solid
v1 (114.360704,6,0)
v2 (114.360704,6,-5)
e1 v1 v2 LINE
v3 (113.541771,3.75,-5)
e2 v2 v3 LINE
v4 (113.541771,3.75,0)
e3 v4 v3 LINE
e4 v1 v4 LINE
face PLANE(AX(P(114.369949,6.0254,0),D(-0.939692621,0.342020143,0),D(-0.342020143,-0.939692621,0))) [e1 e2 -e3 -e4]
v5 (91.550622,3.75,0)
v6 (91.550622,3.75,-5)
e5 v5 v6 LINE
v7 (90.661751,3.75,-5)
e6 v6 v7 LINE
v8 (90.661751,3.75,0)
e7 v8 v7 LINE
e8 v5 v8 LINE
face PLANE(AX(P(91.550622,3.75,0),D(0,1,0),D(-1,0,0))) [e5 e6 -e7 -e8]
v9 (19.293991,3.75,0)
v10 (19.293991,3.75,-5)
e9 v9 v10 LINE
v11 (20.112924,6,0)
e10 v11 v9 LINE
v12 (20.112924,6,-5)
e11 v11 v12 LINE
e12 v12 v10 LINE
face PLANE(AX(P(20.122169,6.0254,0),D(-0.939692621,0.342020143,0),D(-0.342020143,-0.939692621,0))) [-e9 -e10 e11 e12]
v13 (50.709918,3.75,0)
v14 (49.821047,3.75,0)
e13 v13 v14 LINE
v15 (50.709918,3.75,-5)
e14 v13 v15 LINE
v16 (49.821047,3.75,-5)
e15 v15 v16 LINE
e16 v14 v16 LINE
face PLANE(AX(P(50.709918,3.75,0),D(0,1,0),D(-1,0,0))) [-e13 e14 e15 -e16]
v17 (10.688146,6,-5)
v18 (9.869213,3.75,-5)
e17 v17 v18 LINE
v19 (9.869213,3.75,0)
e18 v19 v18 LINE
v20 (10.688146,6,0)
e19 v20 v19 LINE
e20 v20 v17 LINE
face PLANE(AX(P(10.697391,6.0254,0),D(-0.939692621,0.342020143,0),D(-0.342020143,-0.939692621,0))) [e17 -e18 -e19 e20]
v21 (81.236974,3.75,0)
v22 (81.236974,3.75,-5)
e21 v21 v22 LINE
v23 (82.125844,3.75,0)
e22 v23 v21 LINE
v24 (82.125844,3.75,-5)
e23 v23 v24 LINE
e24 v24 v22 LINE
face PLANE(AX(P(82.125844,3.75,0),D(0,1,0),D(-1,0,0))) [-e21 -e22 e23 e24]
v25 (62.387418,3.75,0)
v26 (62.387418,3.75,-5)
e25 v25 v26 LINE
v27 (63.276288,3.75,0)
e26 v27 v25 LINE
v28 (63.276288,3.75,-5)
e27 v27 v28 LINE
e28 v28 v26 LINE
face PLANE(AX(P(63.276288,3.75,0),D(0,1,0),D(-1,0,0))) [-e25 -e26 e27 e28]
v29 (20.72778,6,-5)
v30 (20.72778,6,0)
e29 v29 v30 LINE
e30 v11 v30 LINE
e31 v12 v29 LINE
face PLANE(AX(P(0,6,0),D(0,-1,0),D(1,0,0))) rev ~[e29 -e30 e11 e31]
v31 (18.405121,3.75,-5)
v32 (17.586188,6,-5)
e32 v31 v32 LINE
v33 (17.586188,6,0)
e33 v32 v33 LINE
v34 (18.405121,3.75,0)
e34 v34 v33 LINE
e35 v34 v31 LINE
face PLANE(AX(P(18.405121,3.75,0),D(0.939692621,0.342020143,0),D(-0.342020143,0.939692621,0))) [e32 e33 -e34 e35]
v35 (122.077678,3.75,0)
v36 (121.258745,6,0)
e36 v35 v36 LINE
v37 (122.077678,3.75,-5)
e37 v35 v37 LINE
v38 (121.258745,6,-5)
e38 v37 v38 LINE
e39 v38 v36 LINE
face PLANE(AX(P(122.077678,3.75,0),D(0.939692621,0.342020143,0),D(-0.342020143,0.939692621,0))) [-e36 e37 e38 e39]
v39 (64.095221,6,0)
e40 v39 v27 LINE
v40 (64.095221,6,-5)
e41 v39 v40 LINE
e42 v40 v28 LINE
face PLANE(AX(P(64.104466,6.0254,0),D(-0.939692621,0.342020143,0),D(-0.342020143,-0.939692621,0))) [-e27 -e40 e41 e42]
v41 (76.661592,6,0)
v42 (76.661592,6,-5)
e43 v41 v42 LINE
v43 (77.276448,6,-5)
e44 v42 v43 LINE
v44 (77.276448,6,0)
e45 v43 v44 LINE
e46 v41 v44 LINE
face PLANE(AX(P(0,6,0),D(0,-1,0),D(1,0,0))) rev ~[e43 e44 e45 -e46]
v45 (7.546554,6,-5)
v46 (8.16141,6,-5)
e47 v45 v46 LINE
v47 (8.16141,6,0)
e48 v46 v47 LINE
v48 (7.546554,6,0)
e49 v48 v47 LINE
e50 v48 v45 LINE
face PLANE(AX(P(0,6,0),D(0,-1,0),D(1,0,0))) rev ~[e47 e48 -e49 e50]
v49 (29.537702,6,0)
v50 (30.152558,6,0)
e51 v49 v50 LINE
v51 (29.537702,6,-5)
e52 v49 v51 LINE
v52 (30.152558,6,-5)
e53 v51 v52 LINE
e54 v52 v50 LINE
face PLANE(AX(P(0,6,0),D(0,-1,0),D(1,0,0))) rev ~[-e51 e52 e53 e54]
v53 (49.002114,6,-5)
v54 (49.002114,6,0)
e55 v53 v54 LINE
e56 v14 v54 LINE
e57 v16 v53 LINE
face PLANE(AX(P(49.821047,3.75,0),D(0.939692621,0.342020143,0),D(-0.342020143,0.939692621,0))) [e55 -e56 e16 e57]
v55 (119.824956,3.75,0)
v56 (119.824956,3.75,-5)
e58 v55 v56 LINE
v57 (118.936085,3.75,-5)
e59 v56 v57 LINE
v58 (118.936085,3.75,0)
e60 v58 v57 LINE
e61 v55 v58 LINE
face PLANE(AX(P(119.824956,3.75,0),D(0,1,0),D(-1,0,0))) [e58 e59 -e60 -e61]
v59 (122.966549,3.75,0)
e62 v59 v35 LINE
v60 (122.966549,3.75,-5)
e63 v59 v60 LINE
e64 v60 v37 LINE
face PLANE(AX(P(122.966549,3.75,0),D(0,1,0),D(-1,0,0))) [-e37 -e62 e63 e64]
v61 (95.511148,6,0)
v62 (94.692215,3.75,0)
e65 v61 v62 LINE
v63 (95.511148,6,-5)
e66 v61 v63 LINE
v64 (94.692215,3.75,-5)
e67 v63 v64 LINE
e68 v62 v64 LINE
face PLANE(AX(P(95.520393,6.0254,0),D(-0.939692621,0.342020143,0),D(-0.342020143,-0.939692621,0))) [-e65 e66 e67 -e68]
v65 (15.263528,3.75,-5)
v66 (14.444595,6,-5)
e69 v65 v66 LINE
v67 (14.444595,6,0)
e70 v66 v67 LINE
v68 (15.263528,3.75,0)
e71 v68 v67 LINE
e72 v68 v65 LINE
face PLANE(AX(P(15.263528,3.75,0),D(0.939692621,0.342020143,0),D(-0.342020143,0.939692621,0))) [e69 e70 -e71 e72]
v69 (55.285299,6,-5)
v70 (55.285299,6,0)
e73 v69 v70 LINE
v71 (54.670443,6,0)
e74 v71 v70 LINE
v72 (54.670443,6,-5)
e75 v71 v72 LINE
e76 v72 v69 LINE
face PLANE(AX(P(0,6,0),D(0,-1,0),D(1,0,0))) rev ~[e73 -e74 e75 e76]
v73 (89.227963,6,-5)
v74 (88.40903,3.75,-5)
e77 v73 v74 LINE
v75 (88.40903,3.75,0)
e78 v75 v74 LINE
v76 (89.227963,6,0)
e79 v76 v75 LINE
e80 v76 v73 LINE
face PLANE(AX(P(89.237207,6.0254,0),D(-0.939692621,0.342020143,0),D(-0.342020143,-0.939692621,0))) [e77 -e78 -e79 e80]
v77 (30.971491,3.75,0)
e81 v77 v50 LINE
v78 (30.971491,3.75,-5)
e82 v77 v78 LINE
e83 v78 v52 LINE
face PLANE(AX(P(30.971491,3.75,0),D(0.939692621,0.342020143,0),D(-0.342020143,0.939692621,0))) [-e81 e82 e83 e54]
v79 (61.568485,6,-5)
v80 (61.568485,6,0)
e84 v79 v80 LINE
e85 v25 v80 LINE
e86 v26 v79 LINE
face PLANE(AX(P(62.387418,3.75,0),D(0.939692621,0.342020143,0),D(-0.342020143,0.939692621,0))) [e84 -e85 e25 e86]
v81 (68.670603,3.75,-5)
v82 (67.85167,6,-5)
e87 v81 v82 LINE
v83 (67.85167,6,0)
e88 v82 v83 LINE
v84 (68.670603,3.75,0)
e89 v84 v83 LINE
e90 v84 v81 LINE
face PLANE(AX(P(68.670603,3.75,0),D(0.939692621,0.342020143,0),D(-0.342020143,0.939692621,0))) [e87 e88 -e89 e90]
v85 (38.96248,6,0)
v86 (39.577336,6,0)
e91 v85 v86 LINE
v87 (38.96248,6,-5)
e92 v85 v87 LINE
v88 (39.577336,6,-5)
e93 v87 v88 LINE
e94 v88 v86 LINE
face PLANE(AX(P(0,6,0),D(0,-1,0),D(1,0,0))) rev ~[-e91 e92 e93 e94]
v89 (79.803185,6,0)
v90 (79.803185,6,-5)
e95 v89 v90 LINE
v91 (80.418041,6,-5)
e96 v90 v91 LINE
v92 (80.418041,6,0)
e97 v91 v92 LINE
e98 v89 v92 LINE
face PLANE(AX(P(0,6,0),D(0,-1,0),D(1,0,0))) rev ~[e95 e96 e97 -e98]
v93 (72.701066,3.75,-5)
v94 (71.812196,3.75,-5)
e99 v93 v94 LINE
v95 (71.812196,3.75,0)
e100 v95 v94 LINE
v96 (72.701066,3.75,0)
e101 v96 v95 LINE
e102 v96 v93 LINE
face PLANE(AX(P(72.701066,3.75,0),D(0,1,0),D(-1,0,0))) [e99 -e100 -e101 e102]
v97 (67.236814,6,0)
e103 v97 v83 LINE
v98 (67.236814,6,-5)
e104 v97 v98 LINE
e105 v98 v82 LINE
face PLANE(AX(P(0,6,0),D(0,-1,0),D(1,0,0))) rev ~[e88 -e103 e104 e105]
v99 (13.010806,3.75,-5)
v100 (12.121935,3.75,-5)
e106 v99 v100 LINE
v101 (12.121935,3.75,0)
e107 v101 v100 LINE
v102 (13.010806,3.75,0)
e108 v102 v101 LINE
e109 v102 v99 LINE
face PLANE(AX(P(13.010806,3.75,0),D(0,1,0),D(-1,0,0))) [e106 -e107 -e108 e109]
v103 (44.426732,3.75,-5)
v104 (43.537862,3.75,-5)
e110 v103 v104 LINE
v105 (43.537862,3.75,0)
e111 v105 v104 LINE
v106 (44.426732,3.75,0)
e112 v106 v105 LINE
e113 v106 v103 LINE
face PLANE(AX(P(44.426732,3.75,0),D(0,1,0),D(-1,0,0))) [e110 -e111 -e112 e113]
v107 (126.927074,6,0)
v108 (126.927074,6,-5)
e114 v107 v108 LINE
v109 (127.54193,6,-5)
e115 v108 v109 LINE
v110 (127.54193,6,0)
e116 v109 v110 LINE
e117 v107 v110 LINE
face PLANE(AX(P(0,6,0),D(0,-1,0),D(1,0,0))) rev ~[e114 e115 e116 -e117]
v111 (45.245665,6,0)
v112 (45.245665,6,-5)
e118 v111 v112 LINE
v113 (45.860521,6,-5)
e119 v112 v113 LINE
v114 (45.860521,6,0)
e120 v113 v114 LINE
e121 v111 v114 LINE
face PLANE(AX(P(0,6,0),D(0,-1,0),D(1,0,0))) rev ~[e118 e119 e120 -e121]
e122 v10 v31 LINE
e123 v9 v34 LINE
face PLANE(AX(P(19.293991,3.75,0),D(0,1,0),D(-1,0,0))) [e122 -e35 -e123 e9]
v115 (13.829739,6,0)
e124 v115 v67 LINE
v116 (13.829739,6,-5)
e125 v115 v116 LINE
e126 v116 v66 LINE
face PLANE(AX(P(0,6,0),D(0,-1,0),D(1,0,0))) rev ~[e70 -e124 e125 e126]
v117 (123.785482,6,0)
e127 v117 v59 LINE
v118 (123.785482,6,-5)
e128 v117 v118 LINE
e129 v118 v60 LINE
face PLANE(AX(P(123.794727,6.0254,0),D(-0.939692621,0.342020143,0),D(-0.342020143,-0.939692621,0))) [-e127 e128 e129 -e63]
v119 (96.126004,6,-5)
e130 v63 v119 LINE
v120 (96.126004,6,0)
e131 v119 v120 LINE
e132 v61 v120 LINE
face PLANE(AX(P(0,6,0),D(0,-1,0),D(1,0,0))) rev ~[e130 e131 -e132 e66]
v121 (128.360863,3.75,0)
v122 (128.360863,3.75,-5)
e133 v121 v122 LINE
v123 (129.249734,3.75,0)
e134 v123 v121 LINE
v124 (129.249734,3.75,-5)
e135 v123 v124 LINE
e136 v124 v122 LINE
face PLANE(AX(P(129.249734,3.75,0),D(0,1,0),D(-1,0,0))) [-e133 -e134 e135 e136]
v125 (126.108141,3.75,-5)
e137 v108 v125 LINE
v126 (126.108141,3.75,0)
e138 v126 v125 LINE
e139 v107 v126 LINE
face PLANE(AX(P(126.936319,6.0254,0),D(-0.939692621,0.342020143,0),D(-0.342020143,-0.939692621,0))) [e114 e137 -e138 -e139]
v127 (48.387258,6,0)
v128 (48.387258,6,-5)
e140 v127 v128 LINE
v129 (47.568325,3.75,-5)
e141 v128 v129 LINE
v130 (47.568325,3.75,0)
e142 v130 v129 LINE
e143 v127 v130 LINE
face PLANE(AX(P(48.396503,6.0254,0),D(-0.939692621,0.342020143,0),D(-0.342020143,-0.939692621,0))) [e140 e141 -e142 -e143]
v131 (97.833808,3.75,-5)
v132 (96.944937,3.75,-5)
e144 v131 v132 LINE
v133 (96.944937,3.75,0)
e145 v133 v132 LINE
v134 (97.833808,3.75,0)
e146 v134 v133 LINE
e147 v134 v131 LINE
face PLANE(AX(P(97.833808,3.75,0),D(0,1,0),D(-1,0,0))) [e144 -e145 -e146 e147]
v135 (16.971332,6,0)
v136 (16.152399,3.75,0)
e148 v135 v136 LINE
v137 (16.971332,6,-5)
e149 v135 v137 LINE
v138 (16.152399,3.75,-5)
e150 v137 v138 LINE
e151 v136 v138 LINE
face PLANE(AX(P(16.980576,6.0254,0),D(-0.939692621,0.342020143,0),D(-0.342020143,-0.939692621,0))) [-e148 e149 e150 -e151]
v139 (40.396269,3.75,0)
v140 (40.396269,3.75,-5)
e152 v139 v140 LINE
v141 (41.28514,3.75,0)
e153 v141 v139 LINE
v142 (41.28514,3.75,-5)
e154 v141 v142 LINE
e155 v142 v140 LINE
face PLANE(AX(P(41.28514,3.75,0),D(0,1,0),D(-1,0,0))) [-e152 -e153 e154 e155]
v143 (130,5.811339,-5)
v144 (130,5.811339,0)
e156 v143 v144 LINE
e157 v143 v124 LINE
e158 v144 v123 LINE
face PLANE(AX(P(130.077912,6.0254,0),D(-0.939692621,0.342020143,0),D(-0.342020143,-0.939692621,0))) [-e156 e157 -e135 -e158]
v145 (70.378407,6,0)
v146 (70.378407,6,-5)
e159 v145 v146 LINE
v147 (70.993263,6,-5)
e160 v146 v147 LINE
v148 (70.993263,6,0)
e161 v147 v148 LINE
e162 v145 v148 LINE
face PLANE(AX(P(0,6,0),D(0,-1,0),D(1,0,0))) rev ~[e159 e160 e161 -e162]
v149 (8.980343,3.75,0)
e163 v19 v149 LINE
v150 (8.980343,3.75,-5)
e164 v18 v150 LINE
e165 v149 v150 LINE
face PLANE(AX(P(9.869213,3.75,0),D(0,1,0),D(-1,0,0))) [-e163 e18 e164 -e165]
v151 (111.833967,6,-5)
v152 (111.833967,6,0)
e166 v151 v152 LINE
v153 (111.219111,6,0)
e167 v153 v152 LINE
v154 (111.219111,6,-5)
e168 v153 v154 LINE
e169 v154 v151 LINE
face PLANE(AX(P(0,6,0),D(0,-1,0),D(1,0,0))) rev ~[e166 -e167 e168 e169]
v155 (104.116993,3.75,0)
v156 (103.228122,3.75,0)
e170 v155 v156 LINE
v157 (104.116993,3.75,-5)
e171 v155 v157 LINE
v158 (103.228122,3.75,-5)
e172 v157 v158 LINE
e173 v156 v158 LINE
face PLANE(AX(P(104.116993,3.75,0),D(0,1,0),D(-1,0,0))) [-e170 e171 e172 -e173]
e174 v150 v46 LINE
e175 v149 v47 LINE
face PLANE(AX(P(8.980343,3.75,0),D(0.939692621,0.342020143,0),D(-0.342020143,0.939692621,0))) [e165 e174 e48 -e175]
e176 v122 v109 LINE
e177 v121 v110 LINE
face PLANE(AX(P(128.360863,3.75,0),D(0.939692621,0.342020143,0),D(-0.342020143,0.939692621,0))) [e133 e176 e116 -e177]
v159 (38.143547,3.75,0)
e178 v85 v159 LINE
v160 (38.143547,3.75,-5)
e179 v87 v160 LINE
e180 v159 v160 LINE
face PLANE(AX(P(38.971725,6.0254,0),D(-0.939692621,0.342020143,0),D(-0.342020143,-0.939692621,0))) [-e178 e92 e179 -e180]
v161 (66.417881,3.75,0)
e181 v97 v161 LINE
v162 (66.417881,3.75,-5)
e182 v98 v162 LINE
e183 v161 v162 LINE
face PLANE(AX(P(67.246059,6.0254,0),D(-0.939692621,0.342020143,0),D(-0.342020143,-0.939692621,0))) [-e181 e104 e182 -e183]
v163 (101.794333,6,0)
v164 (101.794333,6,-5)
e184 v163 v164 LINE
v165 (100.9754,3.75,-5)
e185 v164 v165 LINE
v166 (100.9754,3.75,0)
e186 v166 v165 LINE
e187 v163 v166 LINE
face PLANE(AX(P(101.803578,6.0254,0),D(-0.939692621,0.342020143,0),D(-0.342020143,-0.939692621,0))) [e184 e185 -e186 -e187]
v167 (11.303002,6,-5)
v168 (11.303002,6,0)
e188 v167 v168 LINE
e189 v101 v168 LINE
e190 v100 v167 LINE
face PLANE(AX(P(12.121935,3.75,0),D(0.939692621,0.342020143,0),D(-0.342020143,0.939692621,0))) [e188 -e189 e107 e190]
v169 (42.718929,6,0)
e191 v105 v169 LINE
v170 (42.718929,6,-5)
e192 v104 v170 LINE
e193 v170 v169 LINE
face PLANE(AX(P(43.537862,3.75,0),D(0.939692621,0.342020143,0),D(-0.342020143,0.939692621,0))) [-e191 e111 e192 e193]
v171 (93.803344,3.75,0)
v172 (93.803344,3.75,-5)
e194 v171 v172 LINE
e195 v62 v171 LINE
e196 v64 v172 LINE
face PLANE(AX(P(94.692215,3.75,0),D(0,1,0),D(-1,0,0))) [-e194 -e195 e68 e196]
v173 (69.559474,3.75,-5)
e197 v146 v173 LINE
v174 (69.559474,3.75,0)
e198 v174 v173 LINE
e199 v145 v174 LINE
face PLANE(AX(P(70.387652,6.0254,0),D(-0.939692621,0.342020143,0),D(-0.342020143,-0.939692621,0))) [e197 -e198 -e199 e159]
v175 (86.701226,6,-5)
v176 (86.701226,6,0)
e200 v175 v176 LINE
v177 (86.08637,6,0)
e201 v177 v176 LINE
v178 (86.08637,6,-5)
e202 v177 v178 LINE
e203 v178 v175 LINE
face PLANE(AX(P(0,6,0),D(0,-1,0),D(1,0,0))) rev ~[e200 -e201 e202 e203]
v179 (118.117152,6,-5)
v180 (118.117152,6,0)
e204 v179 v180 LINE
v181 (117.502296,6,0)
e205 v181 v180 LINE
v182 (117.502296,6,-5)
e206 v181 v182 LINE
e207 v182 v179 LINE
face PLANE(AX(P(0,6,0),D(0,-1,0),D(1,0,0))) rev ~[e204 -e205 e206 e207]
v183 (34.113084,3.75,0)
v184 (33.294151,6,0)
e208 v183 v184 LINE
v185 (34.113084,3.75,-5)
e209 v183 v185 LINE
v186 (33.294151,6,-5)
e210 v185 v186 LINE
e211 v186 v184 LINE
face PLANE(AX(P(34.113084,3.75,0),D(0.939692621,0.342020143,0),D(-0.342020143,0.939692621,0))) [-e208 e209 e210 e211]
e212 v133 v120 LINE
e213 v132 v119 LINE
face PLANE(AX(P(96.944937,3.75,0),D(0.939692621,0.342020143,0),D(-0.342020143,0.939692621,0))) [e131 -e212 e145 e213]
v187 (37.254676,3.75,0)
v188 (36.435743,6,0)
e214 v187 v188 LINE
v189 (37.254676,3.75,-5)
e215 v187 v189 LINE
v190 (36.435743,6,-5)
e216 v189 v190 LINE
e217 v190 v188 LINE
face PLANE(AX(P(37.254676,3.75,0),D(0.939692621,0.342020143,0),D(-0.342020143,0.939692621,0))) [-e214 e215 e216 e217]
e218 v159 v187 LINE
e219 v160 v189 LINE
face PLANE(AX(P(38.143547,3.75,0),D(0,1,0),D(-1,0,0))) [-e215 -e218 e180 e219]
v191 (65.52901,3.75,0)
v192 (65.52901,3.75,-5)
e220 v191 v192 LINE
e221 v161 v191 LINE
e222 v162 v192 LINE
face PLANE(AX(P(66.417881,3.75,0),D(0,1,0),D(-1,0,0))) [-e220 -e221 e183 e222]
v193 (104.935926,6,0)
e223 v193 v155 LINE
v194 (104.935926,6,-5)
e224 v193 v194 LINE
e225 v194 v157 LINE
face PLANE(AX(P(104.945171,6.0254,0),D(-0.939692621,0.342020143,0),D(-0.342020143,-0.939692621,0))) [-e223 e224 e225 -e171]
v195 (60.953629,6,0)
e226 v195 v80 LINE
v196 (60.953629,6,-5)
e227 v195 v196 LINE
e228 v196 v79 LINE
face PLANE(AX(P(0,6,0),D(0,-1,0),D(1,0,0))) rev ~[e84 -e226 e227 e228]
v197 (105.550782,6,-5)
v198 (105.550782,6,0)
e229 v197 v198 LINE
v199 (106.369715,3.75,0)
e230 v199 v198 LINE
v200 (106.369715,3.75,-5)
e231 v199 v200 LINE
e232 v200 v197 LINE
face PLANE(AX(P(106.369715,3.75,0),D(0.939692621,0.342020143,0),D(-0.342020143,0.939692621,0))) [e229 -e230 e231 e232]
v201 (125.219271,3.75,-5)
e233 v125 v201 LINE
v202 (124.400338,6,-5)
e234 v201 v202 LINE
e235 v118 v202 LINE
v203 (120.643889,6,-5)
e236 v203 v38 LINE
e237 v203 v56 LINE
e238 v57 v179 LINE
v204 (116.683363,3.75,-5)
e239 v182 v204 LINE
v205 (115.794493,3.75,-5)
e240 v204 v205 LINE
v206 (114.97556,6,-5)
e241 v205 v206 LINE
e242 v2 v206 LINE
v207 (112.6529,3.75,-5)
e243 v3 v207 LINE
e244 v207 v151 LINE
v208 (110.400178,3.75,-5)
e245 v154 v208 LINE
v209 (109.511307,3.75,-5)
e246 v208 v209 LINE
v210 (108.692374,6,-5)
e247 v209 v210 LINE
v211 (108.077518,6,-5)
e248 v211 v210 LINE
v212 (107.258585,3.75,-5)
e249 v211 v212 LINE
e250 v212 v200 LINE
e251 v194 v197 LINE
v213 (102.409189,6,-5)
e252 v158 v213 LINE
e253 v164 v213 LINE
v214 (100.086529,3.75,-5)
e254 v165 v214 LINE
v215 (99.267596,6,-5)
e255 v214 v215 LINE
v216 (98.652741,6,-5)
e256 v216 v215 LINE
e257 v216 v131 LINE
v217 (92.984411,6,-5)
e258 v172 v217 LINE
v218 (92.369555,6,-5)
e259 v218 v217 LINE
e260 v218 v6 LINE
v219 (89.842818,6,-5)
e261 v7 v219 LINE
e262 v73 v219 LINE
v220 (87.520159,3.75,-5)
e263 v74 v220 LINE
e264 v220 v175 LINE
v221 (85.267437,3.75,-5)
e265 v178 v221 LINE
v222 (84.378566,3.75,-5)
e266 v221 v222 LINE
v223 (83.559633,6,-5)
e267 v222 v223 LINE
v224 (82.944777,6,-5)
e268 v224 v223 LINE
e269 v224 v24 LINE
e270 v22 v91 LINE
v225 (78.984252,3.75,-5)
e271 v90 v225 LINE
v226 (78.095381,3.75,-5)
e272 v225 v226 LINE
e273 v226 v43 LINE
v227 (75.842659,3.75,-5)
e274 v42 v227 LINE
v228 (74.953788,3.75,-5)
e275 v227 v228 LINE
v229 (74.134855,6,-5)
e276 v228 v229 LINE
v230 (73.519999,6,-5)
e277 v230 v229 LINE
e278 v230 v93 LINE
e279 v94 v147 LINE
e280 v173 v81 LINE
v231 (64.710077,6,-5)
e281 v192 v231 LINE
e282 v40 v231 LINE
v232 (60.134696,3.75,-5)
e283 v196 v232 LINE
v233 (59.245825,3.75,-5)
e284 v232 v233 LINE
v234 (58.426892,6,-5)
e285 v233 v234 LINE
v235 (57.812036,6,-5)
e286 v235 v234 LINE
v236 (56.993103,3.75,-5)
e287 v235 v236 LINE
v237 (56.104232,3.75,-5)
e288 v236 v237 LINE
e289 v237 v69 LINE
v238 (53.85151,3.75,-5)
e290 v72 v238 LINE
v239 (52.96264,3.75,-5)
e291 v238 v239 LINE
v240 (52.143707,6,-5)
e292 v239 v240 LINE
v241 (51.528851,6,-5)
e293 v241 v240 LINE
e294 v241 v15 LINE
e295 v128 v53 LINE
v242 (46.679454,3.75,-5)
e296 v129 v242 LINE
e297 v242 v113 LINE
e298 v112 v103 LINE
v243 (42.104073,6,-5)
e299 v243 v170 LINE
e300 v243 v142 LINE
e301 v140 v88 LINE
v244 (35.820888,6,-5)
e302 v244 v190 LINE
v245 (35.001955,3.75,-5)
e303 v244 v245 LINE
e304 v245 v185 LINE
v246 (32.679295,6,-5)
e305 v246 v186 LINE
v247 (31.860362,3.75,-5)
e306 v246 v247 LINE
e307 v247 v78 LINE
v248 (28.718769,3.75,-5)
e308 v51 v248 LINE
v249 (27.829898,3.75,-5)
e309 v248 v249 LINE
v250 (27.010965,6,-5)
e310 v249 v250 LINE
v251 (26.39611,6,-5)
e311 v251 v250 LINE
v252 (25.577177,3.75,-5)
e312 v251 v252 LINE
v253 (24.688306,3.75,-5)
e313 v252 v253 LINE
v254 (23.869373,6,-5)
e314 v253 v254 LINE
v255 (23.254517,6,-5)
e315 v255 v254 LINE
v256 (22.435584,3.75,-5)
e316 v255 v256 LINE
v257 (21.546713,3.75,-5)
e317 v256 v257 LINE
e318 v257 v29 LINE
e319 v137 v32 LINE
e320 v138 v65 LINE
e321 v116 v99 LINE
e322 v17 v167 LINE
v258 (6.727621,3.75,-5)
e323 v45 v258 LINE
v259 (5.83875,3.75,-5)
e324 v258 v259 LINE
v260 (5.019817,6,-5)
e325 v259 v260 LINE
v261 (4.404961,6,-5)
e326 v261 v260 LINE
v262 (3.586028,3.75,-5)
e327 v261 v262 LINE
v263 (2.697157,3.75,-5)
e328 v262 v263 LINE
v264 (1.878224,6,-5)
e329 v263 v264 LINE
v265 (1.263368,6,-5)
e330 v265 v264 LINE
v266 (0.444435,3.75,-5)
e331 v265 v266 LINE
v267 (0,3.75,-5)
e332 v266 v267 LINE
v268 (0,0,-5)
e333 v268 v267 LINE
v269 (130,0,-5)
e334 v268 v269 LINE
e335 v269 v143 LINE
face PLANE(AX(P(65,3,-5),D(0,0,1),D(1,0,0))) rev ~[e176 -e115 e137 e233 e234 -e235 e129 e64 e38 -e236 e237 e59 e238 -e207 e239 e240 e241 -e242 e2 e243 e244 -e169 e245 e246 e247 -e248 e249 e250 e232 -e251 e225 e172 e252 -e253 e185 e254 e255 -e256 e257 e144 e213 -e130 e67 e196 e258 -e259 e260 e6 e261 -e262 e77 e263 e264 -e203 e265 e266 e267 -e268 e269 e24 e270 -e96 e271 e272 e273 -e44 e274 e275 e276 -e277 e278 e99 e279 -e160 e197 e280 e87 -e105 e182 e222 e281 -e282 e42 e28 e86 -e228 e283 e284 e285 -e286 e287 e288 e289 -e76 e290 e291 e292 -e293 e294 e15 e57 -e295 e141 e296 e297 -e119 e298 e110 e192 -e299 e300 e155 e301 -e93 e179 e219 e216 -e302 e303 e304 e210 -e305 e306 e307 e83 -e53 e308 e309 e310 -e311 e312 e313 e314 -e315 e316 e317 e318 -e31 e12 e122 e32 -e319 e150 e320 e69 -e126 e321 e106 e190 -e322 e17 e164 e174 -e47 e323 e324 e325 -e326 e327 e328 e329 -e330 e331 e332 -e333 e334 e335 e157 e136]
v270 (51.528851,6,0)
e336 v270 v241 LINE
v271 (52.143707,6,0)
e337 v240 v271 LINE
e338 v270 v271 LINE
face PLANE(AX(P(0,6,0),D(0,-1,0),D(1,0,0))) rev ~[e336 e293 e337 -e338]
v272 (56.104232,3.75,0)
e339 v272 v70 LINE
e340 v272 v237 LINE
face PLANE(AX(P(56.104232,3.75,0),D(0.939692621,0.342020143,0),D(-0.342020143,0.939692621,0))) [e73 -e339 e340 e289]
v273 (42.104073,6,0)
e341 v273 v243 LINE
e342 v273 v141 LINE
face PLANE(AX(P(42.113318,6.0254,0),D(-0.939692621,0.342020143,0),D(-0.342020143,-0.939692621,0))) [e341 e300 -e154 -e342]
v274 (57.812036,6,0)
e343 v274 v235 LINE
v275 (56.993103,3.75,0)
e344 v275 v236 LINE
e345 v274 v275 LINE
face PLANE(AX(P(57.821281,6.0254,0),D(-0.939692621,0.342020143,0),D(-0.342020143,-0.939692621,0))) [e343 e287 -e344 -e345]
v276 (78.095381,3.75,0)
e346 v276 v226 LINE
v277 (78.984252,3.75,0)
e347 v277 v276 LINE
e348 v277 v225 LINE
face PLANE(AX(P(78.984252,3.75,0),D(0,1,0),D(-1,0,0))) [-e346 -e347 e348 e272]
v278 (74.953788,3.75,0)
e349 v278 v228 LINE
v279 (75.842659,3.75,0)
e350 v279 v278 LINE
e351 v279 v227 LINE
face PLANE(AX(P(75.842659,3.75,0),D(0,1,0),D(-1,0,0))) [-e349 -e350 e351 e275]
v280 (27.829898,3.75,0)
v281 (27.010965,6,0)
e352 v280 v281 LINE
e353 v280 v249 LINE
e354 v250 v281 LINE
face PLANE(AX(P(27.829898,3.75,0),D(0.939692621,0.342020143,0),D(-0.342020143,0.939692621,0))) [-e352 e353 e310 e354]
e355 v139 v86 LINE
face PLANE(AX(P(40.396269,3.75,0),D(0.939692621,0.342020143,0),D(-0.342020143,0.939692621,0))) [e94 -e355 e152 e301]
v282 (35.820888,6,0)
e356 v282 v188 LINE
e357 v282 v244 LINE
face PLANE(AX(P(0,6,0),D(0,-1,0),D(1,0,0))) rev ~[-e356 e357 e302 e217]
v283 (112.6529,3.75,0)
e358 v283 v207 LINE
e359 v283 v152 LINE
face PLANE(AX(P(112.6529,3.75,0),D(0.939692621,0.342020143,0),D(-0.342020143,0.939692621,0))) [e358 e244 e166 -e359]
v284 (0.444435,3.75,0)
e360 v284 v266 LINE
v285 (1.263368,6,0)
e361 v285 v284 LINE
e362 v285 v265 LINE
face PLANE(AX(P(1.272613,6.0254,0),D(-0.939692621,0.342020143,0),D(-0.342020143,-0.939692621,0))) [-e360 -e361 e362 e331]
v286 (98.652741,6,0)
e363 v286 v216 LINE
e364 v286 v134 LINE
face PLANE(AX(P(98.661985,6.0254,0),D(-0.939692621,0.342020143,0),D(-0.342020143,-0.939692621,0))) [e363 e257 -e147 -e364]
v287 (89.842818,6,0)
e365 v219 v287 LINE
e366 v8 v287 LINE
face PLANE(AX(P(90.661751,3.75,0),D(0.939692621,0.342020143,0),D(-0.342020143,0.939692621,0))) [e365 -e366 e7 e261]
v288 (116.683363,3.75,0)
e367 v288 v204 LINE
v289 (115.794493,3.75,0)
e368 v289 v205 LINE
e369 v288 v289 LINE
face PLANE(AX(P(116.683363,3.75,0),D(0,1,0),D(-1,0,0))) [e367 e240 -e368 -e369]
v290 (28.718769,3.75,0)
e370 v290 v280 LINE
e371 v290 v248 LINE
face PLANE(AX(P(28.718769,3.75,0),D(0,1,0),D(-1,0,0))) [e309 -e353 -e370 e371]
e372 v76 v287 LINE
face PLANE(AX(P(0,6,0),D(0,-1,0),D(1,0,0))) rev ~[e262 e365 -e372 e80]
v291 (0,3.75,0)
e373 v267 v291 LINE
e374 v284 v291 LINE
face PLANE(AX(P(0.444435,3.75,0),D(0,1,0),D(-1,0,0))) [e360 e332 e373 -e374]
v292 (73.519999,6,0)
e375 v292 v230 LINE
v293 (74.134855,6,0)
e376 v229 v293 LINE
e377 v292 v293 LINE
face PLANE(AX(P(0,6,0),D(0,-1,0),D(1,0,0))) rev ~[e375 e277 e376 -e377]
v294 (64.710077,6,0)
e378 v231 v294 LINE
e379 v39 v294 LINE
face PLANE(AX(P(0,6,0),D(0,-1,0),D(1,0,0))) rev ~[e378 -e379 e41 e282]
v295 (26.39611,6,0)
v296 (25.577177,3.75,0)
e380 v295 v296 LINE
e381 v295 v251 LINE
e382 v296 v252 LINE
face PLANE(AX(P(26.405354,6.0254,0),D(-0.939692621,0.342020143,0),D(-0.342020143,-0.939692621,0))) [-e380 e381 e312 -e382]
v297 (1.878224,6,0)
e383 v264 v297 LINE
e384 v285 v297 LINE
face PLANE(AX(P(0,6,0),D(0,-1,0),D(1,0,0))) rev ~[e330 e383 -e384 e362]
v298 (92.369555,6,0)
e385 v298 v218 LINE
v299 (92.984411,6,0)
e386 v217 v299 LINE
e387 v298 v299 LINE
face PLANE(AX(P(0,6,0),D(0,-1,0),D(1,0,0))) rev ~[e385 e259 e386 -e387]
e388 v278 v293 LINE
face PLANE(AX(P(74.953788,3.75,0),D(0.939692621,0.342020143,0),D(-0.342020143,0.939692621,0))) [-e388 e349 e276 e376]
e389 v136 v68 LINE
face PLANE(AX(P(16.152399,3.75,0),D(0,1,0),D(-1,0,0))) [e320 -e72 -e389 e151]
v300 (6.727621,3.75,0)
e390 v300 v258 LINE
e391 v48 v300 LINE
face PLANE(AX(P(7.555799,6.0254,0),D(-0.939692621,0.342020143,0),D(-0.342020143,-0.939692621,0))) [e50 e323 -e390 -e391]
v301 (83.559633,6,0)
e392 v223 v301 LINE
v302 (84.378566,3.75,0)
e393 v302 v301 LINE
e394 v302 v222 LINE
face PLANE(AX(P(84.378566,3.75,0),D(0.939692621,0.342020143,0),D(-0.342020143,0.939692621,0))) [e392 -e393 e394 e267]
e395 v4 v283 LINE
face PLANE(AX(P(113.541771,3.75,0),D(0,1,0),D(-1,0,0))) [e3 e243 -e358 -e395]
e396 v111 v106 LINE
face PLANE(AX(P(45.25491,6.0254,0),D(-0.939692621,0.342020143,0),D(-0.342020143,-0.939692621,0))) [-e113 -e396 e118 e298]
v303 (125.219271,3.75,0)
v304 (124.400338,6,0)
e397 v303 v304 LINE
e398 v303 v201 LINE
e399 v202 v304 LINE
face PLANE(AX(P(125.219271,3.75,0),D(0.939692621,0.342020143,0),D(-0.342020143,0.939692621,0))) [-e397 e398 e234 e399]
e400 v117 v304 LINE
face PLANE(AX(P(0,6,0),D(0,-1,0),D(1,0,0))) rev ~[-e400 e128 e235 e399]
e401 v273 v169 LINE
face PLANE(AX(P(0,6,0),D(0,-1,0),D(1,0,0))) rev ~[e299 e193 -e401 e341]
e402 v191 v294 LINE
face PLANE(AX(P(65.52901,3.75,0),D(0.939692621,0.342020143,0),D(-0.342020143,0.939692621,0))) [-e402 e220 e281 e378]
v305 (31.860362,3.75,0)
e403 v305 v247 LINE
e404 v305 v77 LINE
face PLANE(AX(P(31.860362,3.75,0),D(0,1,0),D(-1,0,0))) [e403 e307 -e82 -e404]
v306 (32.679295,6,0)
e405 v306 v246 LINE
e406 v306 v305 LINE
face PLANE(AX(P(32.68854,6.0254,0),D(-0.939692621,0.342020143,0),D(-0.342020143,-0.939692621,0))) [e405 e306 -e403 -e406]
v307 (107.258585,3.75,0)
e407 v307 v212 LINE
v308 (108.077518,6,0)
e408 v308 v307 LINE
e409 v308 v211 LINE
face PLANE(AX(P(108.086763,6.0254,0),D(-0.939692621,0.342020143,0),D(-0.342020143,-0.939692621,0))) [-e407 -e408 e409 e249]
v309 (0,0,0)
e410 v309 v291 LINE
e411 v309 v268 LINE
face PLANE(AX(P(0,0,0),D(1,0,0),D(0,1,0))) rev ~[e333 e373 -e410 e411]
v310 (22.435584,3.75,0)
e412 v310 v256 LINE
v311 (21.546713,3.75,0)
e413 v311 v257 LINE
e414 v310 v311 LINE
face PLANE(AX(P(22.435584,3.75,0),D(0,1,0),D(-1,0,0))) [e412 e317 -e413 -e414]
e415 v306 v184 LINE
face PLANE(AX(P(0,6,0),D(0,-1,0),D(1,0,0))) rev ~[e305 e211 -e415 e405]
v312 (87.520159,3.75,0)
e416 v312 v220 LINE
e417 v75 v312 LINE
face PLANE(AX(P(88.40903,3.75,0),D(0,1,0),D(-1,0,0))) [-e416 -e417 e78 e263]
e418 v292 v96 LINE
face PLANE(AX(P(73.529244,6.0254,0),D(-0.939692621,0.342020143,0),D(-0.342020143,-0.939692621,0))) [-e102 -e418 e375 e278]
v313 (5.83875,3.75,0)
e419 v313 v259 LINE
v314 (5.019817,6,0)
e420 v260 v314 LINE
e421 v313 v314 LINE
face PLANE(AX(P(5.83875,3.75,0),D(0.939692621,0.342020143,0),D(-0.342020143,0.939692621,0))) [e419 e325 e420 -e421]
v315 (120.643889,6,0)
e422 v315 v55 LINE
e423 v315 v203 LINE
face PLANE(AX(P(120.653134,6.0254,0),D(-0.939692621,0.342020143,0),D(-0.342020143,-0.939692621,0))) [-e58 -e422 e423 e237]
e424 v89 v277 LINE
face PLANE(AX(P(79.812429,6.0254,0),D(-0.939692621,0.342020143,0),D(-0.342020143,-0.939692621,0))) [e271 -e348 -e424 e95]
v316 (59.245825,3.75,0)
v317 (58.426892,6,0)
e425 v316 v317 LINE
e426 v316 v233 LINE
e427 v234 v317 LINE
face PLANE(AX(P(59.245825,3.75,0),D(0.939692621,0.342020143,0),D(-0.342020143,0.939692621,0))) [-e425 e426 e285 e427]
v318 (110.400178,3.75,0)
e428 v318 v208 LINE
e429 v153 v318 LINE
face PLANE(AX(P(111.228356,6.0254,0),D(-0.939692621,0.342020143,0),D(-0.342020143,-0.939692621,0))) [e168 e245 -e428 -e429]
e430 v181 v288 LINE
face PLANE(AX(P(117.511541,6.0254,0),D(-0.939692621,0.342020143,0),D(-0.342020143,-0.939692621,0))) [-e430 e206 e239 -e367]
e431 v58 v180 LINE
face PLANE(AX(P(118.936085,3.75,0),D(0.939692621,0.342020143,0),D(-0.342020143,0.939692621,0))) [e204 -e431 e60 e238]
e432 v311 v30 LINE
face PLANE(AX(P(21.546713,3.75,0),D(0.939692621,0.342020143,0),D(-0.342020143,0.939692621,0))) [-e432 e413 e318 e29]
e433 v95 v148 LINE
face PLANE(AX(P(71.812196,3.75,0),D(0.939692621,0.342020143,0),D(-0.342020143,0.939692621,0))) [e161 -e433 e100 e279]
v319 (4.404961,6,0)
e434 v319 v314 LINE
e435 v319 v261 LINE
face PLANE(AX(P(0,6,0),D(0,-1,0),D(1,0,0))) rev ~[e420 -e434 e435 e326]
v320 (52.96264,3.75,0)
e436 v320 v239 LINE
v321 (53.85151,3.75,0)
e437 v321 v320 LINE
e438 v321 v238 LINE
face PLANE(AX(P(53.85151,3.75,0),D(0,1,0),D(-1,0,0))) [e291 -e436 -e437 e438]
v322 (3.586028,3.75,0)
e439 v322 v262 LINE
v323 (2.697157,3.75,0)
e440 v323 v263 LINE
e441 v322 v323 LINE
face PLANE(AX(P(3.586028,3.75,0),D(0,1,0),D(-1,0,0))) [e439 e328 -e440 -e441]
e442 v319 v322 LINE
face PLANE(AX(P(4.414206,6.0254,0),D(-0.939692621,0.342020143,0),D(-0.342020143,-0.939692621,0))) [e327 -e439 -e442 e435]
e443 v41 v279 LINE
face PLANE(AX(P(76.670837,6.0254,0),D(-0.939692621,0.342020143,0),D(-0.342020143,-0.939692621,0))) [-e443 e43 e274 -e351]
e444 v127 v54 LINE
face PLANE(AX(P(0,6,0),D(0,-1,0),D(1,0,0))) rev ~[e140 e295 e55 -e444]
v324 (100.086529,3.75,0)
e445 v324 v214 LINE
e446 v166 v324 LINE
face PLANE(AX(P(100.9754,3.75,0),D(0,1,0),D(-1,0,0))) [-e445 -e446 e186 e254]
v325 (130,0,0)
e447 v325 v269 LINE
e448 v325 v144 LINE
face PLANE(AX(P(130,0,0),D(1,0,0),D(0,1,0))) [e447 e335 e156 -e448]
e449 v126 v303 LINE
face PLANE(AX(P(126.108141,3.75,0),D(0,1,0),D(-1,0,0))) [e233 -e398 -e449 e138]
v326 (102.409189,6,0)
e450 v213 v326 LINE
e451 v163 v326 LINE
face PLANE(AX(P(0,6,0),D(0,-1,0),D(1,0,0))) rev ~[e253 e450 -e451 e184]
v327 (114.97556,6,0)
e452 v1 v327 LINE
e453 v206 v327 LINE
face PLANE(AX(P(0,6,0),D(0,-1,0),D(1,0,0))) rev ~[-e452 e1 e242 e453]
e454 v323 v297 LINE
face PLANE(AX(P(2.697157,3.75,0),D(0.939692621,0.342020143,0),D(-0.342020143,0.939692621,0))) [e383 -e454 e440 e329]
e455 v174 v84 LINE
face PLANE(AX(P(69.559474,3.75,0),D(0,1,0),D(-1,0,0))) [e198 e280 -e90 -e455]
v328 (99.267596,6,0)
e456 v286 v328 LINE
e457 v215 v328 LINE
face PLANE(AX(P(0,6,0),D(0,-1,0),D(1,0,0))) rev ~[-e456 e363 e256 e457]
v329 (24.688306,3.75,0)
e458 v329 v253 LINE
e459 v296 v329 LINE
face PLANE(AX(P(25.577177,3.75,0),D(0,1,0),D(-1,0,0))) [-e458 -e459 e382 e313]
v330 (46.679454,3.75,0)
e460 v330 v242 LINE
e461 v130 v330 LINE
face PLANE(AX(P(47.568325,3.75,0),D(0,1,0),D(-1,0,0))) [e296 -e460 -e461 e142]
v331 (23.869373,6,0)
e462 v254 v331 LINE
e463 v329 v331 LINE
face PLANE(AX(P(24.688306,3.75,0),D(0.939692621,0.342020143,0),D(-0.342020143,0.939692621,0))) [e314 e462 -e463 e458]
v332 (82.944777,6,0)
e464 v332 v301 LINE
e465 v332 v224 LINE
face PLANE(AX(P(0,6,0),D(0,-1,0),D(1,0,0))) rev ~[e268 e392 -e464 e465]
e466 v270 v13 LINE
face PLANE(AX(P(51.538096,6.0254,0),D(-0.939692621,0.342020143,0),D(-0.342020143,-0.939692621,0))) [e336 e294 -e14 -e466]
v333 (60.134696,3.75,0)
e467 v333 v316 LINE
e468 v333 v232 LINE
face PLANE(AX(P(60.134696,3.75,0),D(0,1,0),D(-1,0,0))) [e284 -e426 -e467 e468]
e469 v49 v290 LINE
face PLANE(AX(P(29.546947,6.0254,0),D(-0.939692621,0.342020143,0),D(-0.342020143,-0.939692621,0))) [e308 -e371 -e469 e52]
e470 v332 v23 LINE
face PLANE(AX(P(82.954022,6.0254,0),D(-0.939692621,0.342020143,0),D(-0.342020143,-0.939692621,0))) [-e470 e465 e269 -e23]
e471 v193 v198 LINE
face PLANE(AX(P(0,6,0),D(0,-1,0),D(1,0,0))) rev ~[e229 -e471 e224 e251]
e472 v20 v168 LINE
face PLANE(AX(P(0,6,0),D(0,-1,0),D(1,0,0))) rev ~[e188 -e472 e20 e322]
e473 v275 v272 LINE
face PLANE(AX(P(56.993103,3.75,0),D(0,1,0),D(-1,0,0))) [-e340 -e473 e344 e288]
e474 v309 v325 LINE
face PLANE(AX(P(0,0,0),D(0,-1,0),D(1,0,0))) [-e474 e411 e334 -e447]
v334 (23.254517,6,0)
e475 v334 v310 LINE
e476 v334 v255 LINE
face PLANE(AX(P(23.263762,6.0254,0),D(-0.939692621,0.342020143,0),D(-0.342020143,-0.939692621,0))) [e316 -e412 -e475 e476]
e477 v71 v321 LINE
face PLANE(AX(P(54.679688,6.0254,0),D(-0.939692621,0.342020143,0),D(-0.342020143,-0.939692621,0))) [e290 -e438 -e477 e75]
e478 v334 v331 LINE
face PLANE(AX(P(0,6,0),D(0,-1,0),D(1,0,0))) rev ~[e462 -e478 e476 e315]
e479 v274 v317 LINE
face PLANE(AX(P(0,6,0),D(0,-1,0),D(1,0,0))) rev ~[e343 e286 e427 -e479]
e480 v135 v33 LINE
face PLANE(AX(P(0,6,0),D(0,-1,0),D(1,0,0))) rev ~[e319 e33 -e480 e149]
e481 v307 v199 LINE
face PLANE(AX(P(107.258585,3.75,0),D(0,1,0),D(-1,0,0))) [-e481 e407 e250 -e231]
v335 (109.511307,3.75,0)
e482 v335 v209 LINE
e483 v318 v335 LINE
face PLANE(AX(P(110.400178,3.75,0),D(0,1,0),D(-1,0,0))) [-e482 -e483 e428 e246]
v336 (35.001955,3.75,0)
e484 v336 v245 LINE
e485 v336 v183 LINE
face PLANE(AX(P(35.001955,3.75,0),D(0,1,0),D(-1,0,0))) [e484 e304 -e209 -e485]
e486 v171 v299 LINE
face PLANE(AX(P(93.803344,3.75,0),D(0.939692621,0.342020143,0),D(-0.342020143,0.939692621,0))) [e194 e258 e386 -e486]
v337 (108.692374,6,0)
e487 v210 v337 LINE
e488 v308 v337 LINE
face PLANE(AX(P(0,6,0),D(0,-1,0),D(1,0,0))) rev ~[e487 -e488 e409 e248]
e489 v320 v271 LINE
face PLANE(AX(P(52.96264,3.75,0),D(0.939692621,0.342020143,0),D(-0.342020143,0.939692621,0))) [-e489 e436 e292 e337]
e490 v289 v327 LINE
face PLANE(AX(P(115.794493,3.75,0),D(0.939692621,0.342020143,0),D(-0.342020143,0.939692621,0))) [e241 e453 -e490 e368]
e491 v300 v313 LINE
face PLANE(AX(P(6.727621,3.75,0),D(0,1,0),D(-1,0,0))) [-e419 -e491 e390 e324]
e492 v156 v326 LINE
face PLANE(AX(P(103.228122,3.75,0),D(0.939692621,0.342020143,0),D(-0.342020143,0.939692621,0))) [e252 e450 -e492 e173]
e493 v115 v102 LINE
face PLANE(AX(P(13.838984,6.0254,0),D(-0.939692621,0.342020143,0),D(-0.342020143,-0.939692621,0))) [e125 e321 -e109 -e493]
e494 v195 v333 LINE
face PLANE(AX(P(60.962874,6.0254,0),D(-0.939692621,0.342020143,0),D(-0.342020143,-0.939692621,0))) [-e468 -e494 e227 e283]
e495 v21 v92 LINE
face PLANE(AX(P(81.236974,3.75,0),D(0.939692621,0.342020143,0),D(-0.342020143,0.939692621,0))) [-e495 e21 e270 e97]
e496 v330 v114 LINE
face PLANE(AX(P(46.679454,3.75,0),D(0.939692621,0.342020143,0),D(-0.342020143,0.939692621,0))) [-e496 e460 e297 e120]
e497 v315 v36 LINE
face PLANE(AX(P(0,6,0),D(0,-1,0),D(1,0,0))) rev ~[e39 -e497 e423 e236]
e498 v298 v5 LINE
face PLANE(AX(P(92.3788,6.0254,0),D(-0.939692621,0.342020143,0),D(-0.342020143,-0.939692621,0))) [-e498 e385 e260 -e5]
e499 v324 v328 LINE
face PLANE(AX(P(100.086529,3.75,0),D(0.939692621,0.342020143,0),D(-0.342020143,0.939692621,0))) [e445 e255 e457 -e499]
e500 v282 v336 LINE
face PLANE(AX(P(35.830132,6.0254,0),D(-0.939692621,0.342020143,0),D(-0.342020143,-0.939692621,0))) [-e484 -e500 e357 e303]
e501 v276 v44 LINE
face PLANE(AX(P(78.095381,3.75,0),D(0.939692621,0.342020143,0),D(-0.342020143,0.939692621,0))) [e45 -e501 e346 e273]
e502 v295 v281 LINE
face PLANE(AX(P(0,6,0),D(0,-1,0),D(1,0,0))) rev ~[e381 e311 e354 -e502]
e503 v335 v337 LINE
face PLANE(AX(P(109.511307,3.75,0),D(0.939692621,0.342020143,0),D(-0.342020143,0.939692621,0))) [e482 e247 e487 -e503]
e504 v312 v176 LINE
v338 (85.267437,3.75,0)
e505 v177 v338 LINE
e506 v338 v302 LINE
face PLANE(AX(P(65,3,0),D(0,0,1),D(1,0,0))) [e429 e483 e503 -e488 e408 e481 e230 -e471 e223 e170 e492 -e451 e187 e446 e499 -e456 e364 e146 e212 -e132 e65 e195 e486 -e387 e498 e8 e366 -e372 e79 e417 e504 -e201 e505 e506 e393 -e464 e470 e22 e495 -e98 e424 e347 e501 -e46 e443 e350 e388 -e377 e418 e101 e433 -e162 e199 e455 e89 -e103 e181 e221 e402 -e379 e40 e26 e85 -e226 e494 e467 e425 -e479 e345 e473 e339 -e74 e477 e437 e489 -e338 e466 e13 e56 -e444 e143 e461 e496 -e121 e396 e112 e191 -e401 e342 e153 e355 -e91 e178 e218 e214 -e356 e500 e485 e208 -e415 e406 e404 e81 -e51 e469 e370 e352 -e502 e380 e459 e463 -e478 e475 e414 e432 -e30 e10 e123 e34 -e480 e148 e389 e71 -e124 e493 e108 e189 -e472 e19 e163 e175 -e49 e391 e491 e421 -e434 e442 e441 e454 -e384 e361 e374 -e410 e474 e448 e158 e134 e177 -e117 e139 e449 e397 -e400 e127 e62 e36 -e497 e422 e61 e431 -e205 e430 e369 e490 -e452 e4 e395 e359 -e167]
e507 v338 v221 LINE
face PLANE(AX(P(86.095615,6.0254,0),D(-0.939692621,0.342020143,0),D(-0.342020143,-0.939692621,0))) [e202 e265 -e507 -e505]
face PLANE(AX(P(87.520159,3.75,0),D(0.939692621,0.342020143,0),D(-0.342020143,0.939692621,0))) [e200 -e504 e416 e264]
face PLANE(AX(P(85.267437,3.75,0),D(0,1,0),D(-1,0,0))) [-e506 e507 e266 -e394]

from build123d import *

# Parameters (mm, degrees)
BLANKSKE_W        = 130
BLANKSKE_H        = 6
BLANK_DEPTH       = 5
TOOTHCUTSIM_DEPTH = 131.234404057
TEETHCUTS_COUNT   = 42
TEETHCUTS_PITCH   = 3.14159265


with BuildPart() as part:
    # BlankSke → Blank (new body)
    with BuildSketch(Plane.XY):
        with Locations((65, 3)):
            Rectangle(BLANKSKE_W, BLANKSKE_H)
    extrude(amount=-BLANK_DEPTH)

    # TooCutSkeSim → ToothCutSim (cut, through all)
    with BuildSketch(Plane.XY):
        Polygon((0.44443537, 3.75), (-0.44443537, 3.75), (-1.272613241, 6.0254), (1.272613241, 6.0254), align=None)
    toothcutsim = extrude(amount=-TOOTHCUTSIM_DEPTH, mode=Mode.SUBTRACT)

    # TeethCuts: ToothCutSim ×42
    with Locations(*[(i * TEETHCUTS_PITCH, 0, 0) for i in range(1, TEETHCUTS_COUNT)]):
        add(toothcutsim, mode=Mode.SUBTRACT)


solid = part.part
